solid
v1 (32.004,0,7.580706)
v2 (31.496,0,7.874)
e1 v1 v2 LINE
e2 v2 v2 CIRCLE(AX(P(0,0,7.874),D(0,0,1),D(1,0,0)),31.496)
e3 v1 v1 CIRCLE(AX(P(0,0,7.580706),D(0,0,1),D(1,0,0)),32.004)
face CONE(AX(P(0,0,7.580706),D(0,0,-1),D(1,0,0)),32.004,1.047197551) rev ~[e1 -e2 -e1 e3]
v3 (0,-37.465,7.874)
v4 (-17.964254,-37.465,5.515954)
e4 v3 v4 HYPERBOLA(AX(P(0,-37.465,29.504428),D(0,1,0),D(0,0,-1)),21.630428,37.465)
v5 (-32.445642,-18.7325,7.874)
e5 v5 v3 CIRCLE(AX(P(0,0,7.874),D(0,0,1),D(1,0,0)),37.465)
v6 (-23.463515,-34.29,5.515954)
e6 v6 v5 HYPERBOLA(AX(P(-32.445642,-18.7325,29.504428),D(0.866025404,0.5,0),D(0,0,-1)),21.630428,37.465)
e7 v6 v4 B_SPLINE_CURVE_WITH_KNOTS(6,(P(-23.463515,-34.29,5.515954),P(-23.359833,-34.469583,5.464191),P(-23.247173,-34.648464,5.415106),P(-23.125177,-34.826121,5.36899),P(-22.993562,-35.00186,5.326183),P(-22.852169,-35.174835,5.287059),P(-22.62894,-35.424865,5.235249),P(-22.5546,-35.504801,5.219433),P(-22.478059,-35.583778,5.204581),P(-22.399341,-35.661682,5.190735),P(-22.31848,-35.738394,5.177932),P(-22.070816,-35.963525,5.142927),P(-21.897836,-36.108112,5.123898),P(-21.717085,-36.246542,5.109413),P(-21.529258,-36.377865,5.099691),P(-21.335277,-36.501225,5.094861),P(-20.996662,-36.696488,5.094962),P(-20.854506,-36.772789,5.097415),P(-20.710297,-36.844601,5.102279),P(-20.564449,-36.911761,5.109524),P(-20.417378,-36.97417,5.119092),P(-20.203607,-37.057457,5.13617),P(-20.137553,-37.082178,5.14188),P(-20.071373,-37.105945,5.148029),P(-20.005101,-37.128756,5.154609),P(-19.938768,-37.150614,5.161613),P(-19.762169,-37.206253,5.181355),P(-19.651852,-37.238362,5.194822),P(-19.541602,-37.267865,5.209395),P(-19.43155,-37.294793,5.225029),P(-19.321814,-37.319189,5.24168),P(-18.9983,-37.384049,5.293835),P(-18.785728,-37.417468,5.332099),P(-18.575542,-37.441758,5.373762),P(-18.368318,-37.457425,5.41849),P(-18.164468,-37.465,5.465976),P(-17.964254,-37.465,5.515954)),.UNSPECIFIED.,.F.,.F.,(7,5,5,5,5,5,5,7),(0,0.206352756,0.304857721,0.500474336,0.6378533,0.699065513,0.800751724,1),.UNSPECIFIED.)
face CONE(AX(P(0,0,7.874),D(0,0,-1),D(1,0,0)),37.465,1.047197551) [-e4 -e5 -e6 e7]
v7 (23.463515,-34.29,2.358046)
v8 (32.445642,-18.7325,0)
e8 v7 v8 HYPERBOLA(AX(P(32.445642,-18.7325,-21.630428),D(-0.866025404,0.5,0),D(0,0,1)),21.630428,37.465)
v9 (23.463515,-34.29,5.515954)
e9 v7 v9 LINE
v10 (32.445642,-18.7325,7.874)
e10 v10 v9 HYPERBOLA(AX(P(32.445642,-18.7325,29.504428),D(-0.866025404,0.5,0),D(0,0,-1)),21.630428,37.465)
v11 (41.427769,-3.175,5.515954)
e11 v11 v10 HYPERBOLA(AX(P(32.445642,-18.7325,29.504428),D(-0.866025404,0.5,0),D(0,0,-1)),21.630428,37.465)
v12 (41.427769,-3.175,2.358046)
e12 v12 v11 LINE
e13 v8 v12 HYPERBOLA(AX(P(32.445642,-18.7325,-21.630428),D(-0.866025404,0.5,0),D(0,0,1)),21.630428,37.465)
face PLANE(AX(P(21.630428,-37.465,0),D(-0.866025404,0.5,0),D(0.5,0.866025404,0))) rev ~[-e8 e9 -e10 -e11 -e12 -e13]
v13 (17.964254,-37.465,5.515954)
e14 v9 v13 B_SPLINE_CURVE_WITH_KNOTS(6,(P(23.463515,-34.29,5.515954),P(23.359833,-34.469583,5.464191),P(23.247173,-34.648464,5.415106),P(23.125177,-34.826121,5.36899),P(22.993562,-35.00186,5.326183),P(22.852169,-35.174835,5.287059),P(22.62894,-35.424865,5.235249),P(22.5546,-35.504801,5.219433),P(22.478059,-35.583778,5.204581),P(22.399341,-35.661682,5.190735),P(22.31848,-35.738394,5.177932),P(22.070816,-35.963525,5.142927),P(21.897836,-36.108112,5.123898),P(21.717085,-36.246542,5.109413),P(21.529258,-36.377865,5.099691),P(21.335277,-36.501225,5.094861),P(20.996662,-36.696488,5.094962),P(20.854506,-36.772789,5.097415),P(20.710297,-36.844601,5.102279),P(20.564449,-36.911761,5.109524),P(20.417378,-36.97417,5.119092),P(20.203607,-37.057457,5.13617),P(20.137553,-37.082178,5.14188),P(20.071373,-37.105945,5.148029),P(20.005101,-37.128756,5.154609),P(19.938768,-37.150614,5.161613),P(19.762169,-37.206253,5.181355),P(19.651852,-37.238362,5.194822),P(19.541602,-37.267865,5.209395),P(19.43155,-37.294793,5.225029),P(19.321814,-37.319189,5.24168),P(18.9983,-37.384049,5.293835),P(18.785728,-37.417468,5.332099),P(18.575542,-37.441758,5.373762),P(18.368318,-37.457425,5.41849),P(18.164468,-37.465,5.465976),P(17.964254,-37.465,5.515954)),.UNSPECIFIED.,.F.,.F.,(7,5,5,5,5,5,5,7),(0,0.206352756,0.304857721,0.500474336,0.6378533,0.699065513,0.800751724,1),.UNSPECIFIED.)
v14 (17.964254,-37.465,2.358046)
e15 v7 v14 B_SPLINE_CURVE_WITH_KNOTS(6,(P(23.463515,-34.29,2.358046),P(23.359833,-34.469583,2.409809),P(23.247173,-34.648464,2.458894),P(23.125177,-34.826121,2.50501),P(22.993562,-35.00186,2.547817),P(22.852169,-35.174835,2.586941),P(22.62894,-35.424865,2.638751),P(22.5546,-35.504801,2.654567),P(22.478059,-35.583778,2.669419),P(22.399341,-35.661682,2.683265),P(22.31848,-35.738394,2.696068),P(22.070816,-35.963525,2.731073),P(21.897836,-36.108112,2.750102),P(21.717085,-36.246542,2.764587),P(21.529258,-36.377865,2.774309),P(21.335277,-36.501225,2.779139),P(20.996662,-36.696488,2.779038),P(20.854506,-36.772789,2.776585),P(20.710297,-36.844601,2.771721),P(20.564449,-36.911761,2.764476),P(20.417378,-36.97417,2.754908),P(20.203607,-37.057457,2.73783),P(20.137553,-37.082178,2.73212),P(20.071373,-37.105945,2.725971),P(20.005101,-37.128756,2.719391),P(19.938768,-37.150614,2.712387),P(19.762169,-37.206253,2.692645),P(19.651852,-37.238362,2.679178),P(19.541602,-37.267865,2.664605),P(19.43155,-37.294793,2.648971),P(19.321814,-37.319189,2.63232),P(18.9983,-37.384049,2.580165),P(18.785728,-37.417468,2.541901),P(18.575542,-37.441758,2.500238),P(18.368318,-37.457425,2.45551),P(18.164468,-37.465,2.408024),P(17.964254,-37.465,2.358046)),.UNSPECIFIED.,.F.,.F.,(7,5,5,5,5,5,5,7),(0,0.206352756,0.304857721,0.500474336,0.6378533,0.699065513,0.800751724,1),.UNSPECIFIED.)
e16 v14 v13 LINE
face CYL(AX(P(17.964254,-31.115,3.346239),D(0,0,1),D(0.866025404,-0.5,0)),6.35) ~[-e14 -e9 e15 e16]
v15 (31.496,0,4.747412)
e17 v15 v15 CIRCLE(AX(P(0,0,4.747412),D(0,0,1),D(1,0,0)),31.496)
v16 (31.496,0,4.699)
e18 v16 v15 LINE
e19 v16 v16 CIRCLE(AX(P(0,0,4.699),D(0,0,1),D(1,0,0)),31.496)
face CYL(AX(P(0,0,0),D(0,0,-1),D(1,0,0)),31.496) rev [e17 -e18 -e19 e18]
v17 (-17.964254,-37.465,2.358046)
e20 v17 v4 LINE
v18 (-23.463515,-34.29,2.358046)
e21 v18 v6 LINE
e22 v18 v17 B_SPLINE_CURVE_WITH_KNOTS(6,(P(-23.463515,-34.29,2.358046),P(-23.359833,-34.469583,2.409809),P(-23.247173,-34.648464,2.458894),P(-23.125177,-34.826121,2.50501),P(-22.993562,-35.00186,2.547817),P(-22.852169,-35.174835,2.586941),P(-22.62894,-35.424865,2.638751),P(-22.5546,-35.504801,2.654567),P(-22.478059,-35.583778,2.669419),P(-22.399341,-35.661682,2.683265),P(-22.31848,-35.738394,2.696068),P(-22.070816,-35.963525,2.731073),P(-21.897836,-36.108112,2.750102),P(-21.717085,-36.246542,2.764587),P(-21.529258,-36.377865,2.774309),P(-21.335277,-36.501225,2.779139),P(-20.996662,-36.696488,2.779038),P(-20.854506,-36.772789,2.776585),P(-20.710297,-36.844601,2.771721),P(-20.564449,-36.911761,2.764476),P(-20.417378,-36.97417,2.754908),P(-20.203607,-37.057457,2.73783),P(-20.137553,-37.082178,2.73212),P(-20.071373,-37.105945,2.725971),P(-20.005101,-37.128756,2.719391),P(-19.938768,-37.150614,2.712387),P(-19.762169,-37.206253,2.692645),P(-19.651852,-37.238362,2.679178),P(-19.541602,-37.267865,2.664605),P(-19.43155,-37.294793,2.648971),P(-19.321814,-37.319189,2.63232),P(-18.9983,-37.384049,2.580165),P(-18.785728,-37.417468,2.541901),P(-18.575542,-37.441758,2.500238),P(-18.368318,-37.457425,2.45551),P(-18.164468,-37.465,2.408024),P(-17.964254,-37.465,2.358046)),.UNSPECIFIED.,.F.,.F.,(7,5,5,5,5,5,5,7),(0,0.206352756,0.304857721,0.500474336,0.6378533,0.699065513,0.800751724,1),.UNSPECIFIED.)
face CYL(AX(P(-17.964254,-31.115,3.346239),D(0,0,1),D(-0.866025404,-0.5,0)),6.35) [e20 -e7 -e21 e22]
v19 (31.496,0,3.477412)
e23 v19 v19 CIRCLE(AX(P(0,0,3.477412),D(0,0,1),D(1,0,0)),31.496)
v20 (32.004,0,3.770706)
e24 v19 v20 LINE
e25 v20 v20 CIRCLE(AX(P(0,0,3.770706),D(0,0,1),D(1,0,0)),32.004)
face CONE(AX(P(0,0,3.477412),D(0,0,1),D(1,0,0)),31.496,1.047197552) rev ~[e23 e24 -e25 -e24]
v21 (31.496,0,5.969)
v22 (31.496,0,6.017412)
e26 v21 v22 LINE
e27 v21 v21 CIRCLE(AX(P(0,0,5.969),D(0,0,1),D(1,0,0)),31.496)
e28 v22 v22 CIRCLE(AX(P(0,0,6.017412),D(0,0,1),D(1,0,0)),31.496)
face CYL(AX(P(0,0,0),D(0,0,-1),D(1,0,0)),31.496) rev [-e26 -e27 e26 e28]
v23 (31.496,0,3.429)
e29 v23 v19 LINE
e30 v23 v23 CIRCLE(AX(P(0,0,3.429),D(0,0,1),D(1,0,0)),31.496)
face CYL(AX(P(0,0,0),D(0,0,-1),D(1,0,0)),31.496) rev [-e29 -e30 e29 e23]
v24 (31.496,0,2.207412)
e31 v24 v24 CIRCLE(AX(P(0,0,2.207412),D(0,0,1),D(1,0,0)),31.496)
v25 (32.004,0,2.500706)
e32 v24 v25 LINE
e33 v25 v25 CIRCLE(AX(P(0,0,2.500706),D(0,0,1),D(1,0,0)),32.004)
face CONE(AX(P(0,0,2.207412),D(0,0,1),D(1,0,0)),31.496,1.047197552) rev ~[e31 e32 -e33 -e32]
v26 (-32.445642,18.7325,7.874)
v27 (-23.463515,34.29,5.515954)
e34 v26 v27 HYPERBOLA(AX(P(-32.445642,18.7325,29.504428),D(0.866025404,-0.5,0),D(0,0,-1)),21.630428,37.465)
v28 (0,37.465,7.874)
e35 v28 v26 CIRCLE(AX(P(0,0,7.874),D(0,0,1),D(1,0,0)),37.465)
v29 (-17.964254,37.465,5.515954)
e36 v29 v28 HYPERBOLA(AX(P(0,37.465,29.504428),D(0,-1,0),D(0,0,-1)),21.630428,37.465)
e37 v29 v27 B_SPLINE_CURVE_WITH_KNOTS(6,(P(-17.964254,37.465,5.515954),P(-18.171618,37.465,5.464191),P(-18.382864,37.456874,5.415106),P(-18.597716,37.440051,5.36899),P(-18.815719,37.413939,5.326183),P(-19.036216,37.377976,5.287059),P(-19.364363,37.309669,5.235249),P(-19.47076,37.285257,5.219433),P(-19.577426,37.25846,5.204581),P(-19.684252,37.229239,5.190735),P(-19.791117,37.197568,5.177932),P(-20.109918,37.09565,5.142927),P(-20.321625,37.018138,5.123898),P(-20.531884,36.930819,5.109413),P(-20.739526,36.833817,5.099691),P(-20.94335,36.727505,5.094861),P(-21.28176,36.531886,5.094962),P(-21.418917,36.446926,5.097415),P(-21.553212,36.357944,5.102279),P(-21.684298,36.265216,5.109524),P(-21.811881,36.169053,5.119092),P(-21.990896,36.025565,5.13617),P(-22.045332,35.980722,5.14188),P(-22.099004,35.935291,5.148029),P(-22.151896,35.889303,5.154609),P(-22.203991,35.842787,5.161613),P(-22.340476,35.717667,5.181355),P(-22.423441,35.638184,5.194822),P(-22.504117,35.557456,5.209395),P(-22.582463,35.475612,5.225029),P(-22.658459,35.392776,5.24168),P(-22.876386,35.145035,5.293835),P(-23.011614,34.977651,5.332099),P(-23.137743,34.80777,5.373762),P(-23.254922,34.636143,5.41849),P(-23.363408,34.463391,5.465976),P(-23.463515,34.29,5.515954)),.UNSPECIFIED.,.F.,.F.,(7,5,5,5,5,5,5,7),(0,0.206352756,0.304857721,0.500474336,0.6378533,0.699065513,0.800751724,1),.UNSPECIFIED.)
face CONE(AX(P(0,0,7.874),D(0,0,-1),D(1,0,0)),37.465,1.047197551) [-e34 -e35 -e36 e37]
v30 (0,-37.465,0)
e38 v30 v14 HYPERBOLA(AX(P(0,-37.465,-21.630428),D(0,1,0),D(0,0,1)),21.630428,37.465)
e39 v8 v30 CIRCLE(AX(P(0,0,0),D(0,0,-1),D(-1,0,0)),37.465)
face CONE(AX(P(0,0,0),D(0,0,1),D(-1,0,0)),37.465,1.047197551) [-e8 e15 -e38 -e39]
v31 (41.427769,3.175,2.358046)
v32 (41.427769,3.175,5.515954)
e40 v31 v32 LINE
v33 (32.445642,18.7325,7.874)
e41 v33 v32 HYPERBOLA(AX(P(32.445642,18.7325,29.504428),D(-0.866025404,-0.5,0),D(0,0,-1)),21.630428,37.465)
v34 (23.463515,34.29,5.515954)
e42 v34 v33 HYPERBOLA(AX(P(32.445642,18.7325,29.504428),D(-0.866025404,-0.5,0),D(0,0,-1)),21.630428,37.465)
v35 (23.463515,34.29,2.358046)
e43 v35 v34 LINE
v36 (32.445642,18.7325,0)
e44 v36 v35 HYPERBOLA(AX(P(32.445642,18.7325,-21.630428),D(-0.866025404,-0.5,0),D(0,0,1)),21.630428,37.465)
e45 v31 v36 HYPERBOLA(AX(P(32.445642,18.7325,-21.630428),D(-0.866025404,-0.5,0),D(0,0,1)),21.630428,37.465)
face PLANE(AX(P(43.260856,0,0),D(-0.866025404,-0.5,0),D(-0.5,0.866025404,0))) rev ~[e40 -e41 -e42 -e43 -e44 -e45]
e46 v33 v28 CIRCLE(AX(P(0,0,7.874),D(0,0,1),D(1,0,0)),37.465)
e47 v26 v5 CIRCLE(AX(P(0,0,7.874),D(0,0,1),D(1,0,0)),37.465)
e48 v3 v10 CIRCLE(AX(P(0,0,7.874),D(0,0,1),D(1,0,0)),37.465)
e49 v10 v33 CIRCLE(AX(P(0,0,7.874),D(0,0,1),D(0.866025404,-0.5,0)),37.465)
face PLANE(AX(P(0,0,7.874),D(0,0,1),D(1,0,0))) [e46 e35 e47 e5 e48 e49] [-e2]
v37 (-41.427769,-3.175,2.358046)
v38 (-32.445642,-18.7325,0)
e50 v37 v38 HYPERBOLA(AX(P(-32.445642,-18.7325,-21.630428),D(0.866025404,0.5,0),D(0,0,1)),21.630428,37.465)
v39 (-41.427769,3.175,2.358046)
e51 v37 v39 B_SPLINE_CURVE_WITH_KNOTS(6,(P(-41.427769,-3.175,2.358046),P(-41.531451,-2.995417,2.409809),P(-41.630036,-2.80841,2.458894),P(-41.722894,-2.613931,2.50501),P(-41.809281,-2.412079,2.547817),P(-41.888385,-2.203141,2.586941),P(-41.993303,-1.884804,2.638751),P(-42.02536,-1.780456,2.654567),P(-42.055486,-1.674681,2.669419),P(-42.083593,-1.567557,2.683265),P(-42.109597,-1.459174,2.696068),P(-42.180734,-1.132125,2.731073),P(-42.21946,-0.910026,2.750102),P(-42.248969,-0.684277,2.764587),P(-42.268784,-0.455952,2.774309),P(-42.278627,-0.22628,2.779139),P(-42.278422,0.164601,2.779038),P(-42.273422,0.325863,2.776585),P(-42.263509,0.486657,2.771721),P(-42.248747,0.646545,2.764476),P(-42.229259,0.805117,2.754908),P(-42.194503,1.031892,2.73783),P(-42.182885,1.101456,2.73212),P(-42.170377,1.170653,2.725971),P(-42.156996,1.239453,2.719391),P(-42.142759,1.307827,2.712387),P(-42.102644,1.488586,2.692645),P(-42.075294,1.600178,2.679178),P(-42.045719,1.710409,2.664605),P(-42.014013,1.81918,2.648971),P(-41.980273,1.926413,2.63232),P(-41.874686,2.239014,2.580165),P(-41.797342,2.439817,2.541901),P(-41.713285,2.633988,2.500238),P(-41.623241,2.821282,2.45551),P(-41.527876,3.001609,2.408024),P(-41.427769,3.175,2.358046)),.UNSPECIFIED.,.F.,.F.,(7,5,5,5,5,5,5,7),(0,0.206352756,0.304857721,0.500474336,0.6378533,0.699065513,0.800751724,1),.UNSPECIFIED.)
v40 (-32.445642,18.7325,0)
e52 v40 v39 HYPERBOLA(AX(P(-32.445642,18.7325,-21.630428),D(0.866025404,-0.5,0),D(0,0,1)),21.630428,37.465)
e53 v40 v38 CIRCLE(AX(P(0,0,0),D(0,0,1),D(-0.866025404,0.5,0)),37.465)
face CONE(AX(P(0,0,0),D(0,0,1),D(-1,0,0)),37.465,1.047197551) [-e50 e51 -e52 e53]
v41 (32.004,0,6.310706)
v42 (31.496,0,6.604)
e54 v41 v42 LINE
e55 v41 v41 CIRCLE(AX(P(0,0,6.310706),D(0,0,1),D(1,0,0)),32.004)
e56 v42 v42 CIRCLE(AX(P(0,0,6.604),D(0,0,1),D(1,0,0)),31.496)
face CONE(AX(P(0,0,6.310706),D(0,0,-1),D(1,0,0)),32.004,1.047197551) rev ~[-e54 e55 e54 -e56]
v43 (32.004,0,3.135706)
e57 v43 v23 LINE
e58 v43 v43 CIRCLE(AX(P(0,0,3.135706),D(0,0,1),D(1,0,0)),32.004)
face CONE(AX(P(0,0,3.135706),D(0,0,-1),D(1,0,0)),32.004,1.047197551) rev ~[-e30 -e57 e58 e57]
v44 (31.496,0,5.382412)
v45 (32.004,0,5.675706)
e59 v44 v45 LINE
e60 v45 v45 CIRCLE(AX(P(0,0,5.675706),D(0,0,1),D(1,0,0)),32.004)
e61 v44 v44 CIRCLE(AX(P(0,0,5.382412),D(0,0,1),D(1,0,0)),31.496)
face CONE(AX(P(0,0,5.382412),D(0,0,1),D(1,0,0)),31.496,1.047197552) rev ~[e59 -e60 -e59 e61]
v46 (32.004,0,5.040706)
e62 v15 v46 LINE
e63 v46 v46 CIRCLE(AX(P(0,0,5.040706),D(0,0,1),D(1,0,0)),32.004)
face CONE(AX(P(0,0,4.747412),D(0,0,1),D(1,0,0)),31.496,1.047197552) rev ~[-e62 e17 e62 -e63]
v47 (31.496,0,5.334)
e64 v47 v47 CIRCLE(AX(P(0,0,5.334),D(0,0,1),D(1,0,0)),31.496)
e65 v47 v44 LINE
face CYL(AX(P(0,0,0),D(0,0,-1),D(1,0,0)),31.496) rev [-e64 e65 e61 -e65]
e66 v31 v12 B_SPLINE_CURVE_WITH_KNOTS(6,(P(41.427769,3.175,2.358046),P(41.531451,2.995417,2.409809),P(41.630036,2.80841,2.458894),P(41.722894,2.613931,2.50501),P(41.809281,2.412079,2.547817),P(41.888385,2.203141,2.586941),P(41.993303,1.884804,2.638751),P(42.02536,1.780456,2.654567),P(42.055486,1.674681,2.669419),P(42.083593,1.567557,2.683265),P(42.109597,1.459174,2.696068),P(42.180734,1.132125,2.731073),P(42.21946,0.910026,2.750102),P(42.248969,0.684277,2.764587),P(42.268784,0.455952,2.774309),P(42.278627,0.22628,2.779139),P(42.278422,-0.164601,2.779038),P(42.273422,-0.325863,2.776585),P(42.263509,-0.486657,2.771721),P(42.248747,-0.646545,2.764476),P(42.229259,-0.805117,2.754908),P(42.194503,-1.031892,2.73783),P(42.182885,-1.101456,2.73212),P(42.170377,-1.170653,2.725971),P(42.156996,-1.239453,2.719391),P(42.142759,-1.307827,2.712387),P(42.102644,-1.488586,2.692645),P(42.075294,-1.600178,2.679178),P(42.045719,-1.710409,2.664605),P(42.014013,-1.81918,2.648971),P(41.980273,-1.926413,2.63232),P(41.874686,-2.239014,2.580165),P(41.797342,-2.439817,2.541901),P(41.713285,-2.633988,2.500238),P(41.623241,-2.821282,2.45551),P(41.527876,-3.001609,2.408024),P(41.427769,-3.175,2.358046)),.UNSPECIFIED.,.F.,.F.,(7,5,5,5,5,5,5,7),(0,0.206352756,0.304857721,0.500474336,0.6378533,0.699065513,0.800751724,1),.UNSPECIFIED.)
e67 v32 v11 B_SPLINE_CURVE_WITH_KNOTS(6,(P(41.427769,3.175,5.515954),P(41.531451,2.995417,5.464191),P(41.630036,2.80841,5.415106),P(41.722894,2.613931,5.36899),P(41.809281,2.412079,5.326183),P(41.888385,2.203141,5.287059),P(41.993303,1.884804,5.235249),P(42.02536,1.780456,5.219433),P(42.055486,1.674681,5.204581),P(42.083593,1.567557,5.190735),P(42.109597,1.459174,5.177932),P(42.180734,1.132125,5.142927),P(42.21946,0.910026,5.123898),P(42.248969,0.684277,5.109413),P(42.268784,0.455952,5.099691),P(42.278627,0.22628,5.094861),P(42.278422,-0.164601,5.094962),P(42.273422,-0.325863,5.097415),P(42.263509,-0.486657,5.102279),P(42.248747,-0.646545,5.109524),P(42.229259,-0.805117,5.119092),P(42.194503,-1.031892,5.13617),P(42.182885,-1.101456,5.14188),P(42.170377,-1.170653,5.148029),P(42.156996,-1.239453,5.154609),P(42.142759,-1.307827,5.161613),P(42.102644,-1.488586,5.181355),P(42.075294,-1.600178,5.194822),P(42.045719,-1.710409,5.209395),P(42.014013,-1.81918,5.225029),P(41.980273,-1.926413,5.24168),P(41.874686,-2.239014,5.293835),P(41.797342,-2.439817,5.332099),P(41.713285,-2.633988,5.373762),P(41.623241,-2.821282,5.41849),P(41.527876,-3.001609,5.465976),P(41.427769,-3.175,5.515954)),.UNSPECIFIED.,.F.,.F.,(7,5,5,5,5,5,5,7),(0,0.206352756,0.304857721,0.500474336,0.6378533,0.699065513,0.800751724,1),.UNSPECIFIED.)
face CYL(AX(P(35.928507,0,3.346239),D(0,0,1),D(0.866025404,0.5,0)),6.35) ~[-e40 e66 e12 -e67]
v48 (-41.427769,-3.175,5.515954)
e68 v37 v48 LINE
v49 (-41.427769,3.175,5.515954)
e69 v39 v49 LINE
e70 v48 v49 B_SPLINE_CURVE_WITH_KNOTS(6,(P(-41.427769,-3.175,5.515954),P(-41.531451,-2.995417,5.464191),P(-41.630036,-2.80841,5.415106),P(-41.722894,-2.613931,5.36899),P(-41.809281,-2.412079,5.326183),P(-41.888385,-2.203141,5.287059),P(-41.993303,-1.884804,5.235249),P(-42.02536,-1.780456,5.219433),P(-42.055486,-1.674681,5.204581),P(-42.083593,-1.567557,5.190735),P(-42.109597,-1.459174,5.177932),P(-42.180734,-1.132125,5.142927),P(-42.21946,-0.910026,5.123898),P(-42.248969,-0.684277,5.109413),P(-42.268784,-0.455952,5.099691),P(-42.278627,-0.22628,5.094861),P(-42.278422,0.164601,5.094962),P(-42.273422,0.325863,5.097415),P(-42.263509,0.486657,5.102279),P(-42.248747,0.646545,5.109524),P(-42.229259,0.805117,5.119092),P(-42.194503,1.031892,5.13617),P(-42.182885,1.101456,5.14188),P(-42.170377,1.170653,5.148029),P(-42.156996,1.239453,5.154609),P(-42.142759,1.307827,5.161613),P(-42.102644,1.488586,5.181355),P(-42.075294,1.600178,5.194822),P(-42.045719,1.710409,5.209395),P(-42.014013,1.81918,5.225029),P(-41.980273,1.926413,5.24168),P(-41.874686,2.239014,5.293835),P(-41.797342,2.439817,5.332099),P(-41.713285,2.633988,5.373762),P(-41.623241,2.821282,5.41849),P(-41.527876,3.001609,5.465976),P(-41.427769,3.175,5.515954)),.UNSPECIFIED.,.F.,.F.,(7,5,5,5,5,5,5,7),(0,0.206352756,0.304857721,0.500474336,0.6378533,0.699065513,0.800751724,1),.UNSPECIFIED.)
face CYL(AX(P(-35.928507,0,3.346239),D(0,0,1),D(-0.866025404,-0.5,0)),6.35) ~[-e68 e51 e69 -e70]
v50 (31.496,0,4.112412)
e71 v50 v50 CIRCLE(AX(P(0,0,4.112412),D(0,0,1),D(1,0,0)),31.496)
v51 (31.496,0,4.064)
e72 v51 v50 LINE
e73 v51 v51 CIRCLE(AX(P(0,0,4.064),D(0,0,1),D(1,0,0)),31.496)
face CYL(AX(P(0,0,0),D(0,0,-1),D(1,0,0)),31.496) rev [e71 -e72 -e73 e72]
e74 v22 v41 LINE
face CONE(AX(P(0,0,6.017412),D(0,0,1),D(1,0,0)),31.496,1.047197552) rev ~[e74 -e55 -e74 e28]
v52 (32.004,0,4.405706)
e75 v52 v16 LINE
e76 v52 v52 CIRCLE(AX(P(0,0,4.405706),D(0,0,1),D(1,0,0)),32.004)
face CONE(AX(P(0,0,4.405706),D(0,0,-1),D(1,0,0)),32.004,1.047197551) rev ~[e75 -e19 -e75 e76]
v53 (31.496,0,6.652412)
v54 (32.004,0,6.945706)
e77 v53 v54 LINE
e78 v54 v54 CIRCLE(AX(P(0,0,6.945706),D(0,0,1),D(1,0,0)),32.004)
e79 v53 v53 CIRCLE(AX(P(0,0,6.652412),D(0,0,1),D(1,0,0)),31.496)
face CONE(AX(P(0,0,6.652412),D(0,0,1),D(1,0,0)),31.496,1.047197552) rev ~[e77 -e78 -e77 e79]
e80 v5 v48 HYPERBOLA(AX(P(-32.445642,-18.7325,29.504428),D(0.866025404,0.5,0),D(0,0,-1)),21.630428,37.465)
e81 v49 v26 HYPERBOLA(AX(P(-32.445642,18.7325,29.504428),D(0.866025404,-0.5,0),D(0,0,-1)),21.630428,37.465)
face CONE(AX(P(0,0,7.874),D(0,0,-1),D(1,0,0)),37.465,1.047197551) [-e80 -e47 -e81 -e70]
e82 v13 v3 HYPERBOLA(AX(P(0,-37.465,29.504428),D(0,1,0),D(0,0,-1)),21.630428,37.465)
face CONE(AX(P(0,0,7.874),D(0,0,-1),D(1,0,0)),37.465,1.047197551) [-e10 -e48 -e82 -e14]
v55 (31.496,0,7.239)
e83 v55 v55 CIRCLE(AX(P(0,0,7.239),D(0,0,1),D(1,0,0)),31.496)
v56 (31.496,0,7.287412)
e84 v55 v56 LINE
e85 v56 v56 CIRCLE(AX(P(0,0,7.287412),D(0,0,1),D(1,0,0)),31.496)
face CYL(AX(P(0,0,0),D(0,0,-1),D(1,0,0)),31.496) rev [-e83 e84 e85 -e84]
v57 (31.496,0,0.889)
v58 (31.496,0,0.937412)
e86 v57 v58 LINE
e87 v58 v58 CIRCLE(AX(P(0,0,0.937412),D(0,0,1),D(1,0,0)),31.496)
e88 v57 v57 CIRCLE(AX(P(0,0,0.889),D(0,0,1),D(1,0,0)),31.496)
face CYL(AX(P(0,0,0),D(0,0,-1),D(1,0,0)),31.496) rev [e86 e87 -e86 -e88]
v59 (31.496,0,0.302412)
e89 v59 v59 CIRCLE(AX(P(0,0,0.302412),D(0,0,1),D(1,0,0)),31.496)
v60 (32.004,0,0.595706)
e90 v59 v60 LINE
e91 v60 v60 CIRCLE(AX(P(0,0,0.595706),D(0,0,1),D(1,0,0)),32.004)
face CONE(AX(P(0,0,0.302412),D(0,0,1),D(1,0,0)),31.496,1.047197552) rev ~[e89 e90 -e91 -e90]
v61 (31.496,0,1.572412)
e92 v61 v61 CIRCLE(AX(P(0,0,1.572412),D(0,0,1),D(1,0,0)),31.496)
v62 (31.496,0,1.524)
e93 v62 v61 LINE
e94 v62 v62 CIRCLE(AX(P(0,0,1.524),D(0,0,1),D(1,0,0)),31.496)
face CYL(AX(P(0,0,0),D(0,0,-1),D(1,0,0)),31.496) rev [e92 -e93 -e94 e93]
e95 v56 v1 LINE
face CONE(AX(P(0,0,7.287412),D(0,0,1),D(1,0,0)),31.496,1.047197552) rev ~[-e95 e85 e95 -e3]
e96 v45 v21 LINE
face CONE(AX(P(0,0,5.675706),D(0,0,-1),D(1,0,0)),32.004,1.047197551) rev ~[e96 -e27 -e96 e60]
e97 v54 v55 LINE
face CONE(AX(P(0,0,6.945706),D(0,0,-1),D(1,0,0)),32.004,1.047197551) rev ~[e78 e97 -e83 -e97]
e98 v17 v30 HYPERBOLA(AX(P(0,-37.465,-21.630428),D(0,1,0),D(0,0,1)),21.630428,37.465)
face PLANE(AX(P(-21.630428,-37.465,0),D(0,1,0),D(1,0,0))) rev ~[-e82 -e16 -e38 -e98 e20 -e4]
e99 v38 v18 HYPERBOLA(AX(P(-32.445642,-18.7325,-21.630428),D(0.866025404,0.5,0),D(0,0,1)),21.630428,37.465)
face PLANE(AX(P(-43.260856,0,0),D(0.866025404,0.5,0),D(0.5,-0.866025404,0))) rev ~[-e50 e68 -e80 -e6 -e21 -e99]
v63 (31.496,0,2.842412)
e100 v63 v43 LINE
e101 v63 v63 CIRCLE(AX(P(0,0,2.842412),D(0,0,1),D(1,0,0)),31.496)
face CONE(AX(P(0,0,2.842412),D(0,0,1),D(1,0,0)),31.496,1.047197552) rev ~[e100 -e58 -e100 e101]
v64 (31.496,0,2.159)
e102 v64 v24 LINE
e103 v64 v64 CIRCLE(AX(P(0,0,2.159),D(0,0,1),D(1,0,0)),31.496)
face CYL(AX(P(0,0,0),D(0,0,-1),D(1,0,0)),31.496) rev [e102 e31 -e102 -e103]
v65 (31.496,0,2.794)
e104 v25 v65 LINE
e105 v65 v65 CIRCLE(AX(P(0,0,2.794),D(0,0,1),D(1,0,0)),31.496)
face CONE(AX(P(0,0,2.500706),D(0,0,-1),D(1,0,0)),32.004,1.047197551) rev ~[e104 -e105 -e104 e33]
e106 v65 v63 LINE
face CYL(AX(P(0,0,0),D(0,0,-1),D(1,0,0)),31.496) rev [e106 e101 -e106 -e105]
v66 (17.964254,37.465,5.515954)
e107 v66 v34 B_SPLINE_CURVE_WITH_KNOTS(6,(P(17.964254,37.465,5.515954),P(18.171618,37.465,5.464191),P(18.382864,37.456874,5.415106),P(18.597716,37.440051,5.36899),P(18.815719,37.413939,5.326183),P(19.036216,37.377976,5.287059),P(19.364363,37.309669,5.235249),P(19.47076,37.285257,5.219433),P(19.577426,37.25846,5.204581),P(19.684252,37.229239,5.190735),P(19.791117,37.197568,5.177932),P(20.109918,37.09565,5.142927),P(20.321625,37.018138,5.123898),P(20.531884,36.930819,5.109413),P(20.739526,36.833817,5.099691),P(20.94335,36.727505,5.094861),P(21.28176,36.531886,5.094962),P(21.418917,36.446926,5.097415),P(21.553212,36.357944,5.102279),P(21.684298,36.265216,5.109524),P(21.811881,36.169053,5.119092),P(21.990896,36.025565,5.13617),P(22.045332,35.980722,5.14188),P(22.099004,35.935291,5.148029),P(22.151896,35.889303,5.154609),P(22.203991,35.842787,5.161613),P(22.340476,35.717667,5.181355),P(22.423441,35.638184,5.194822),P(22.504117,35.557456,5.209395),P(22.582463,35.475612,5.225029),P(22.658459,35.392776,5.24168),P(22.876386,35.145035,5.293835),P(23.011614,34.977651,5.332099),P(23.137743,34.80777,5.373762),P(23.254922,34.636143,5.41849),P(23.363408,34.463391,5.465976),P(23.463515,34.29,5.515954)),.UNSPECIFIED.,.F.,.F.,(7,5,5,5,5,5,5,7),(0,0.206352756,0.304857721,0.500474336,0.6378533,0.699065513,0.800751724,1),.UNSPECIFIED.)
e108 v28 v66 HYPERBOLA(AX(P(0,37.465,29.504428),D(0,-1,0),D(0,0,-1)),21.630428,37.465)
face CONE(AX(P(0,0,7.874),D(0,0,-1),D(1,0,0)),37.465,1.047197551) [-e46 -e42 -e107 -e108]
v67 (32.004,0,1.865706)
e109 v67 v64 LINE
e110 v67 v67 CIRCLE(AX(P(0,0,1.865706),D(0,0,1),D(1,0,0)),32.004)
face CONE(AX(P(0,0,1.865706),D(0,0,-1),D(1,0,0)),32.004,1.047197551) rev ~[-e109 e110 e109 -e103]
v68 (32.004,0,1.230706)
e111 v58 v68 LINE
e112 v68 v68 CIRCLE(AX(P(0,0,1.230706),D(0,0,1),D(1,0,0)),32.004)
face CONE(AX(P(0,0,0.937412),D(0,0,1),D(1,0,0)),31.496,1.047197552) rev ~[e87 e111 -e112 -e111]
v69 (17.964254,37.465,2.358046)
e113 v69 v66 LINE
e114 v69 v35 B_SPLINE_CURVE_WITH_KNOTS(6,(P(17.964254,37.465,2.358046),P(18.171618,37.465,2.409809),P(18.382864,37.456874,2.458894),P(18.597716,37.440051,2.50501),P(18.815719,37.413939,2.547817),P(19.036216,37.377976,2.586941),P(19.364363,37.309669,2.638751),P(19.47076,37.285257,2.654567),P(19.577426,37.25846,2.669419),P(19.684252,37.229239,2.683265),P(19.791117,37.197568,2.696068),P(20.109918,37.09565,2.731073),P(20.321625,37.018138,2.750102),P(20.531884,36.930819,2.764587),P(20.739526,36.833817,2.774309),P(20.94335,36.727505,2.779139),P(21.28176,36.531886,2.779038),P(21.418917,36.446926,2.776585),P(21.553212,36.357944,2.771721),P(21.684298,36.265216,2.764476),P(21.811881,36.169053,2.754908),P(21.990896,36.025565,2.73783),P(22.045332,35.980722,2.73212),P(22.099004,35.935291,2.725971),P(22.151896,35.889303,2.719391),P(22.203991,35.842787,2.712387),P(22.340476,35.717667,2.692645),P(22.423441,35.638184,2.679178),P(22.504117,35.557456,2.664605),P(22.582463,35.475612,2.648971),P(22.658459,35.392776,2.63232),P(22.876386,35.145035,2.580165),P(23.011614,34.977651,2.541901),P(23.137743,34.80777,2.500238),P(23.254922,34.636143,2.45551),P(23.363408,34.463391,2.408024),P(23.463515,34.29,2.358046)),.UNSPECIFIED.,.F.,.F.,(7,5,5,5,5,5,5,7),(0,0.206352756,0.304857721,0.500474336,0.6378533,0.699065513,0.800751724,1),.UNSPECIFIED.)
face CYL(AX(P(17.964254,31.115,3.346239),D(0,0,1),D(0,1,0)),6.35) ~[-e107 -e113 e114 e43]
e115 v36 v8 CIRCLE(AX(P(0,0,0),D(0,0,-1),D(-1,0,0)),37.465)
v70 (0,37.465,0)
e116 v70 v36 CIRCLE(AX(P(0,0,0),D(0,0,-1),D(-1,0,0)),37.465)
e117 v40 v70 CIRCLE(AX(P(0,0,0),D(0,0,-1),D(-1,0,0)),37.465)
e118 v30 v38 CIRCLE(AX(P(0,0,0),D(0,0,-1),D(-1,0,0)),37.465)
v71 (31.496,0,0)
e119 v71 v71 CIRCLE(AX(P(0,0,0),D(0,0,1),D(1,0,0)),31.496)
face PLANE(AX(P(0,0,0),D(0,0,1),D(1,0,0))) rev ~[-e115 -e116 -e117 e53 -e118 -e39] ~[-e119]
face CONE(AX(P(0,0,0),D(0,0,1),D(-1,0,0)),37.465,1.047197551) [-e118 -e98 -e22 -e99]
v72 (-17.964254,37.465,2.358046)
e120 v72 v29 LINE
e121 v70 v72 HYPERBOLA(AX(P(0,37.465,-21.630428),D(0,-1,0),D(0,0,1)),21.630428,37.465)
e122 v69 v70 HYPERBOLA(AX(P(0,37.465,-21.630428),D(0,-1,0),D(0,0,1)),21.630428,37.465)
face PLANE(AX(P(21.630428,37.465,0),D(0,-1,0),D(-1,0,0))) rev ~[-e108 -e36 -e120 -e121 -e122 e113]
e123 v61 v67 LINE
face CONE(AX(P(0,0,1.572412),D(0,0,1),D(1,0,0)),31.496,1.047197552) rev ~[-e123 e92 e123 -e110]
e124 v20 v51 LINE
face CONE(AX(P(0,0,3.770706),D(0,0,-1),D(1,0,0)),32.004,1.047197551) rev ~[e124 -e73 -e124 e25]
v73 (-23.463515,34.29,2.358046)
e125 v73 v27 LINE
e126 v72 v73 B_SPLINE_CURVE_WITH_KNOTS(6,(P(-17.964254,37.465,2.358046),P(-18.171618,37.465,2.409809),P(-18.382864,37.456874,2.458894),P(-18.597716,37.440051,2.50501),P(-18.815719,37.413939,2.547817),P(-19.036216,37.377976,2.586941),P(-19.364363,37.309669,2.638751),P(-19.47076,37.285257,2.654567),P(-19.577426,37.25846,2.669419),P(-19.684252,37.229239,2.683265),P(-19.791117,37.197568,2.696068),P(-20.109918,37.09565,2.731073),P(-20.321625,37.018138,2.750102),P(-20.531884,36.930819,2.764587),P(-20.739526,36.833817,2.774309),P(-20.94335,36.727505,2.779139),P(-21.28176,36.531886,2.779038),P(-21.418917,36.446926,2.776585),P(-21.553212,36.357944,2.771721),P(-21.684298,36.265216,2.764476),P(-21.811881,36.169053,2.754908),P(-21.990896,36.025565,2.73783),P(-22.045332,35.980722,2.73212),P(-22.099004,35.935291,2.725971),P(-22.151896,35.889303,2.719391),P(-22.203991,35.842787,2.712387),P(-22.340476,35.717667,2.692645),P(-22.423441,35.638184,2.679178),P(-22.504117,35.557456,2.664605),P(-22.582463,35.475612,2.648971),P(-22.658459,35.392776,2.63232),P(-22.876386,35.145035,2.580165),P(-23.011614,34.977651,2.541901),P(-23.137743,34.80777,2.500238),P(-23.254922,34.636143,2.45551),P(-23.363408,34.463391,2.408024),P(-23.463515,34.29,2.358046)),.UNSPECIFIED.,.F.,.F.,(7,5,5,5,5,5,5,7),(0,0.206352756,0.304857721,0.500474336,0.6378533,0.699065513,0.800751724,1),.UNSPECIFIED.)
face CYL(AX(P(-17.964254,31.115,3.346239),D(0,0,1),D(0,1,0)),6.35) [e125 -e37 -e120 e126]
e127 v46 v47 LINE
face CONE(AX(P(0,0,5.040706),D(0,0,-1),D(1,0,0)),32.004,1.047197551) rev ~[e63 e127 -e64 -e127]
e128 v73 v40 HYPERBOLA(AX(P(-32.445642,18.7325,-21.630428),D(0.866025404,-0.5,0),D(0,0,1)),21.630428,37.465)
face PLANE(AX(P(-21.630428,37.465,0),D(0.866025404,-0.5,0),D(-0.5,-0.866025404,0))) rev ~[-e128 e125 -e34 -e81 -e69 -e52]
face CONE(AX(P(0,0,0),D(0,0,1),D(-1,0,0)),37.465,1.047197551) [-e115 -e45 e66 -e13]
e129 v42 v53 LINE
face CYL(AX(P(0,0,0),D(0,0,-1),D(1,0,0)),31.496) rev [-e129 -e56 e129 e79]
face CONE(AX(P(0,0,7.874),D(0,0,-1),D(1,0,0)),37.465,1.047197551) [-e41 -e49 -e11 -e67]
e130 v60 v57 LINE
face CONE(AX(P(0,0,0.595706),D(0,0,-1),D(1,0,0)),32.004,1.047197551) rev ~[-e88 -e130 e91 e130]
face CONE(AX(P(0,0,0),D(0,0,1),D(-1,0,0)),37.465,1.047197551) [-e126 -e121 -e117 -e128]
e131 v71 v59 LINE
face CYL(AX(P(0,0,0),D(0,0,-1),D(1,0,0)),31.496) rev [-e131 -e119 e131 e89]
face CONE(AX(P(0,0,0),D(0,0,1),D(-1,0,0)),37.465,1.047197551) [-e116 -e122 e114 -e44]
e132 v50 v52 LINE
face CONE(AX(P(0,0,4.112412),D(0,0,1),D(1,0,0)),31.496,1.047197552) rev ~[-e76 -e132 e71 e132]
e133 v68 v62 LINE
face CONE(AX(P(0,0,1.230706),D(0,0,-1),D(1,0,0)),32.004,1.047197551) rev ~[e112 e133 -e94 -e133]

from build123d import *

# Parameters (mm, degrees)
SKETCH1_R          = 31.496
EXTRUDE1_DEPTH     = 7.874
SKETCH2_OUTSIDE_W  = 142.208
SKETCH2_OUTSIDE_H  = 130.616
SKETCH2_OUTSIDE_R  = 37.465
CUT_EXTRUDE1_DEPTH = 8.874
CUT_EXTRUDE1_DRAFT = -60
SKETCH3_OUTSIDE_W  = 142.208
SKETCH3_OUTSIDE_H  = 130.616
SKETCH3_OUTSIDE_R  = 37.465
CUT_EXTRUDE2_DEPTH = 8.874
CUT_EXTRUDE2_DRAFT = -60
FILLET1_R          = 6.35
LPATTERN1_COUNT    = 12
LPATTERN1_PITCH    = 0.635


with BuildPart() as part:
    # Sketch1 → Extrude1 (new body)
    with BuildSketch(Plane.XY):
        Polygon((-43.26085567, 0), (-21.630427835, -37.465), (21.630427835, -37.465), (43.26085567, 0), (21.630427835, 37.465), (-21.630427835, 37.465), align=None)
        Circle(SKETCH1_R, mode=Mode.SUBTRACT)
    extrude(amount=EXTRUDE1_DEPTH)


with BuildPart() as cut_extrude1_tool:
    # Sketch2 outside → Cut-Extrude1 (with draft: the straight prism first)
    with BuildSketch(Plane.XY.offset(7.874)):
        Rectangle(SKETCH2_OUTSIDE_W, SKETCH2_OUTSIDE_H)
        Circle(SKETCH2_OUTSIDE_R, mode=Mode.SUBTRACT)
    extrude(amount=-CUT_EXTRUDE1_DEPTH)
    # Cut-Extrude1: the draft: its side faces are tilted about the plane it starts from
    cut_extrude1_sides = [cut_extrude1_tool.faces().sort_by_distance(p)[0] for p in [
        (0, -65.308, 3.437),
        (71.104, 0, 3.437),
        (0, 65.308, 3.437),
        (-71.104, 0, 3.437),
        (-37.465, 0, 3.437),
    ]]
    draft(cut_extrude1_sides, Plane.XY.offset(7.874), CUT_EXTRUDE1_DRAFT)


with BuildPart() as part_1:
    add(part.part)

    # Cut-Extrude1: cut by cut_extrude1_tool
    add(cut_extrude1_tool.part, mode=Mode.SUBTRACT)


with BuildPart() as cut_extrude2_tool:
    # Sketch3 outside → Cut-Extrude2 (with draft: the straight prism first)
    with BuildSketch(Plane(origin=(0, 0, 0), x_dir=(-1, 0, 0), z_dir=(0, 0, -1))):
        Rectangle(SKETCH3_OUTSIDE_W, SKETCH3_OUTSIDE_H)
        Circle(SKETCH3_OUTSIDE_R, mode=Mode.SUBTRACT)
    extrude(amount=-CUT_EXTRUDE2_DEPTH)
    # Cut-Extrude2: the draft: its side faces are tilted about the plane it starts from
    cut_extrude2_sides = [cut_extrude2_tool.faces().sort_by_distance(p)[0] for p in [
        (0, -65.308, 4.437),
        (-71.104, 0, 4.437),
        (0, 65.308, 4.437),
        (71.104, 0, 4.437),
        (37.465, 0, 4.437),
    ]]
    draft(cut_extrude2_sides, Plane(origin=(0, 0, 0), x_dir=(-1, 0, 0), z_dir=(0, 0, -1)), CUT_EXTRUDE2_DRAFT)


with BuildPart() as part_2:
    add(part_1.part)

    # Cut-Extrude2: cut by cut_extrude2_tool
    add(cut_extrude2_tool.part, mode=Mode.SUBTRACT)

    # Fillet1
    fillet1_edges = [part_2.edges().sort_by_distance(p)[0] for p in [
        (43.26085567, 0, 3.937),
        (21.630427835, -37.465, 3.937),
        (-21.630427835, -37.465, 3.937),
        (-43.26085567, 0, 3.937),
        (-21.630427835, 37.465, 3.937),
        (21.630427835, 37.465, 3.937),
    ]]
    fillet(fillet1_edges, radius=FILLET1_R)

    # Sketch4 → Cut-Revolve1 (revolve, cut)
    with BuildSketch(Plane(origin=(0, 0, 0), x_dir=(1, 0, 0), z_dir=(0, 1, 0)), mode=Mode.PRIVATE) as cut_revolve1_sk:
        Polygon((-31.496, -7.874), (-31.496, -7.287412127), (-32.004, -7.580706063), align=None)
    cut_revolve1 = revolve(cut_revolve1_sk.sketch.rotate(Axis((0, 0, 0), (0, 0, 1)), 180), axis=Axis((0, 0, 0), (0, 0, 1)), mode=Mode.SUBTRACT)  # turned: the seam where the file's is

    # LPattern1: Cut-Revolve1 ×12
    with Locations(*[(0, 0, -i * LPATTERN1_PITCH) for i in range(1, LPATTERN1_COUNT)]):
        add(cut_revolve1, mode=Mode.SUBTRACT)


solid = part_2.part
